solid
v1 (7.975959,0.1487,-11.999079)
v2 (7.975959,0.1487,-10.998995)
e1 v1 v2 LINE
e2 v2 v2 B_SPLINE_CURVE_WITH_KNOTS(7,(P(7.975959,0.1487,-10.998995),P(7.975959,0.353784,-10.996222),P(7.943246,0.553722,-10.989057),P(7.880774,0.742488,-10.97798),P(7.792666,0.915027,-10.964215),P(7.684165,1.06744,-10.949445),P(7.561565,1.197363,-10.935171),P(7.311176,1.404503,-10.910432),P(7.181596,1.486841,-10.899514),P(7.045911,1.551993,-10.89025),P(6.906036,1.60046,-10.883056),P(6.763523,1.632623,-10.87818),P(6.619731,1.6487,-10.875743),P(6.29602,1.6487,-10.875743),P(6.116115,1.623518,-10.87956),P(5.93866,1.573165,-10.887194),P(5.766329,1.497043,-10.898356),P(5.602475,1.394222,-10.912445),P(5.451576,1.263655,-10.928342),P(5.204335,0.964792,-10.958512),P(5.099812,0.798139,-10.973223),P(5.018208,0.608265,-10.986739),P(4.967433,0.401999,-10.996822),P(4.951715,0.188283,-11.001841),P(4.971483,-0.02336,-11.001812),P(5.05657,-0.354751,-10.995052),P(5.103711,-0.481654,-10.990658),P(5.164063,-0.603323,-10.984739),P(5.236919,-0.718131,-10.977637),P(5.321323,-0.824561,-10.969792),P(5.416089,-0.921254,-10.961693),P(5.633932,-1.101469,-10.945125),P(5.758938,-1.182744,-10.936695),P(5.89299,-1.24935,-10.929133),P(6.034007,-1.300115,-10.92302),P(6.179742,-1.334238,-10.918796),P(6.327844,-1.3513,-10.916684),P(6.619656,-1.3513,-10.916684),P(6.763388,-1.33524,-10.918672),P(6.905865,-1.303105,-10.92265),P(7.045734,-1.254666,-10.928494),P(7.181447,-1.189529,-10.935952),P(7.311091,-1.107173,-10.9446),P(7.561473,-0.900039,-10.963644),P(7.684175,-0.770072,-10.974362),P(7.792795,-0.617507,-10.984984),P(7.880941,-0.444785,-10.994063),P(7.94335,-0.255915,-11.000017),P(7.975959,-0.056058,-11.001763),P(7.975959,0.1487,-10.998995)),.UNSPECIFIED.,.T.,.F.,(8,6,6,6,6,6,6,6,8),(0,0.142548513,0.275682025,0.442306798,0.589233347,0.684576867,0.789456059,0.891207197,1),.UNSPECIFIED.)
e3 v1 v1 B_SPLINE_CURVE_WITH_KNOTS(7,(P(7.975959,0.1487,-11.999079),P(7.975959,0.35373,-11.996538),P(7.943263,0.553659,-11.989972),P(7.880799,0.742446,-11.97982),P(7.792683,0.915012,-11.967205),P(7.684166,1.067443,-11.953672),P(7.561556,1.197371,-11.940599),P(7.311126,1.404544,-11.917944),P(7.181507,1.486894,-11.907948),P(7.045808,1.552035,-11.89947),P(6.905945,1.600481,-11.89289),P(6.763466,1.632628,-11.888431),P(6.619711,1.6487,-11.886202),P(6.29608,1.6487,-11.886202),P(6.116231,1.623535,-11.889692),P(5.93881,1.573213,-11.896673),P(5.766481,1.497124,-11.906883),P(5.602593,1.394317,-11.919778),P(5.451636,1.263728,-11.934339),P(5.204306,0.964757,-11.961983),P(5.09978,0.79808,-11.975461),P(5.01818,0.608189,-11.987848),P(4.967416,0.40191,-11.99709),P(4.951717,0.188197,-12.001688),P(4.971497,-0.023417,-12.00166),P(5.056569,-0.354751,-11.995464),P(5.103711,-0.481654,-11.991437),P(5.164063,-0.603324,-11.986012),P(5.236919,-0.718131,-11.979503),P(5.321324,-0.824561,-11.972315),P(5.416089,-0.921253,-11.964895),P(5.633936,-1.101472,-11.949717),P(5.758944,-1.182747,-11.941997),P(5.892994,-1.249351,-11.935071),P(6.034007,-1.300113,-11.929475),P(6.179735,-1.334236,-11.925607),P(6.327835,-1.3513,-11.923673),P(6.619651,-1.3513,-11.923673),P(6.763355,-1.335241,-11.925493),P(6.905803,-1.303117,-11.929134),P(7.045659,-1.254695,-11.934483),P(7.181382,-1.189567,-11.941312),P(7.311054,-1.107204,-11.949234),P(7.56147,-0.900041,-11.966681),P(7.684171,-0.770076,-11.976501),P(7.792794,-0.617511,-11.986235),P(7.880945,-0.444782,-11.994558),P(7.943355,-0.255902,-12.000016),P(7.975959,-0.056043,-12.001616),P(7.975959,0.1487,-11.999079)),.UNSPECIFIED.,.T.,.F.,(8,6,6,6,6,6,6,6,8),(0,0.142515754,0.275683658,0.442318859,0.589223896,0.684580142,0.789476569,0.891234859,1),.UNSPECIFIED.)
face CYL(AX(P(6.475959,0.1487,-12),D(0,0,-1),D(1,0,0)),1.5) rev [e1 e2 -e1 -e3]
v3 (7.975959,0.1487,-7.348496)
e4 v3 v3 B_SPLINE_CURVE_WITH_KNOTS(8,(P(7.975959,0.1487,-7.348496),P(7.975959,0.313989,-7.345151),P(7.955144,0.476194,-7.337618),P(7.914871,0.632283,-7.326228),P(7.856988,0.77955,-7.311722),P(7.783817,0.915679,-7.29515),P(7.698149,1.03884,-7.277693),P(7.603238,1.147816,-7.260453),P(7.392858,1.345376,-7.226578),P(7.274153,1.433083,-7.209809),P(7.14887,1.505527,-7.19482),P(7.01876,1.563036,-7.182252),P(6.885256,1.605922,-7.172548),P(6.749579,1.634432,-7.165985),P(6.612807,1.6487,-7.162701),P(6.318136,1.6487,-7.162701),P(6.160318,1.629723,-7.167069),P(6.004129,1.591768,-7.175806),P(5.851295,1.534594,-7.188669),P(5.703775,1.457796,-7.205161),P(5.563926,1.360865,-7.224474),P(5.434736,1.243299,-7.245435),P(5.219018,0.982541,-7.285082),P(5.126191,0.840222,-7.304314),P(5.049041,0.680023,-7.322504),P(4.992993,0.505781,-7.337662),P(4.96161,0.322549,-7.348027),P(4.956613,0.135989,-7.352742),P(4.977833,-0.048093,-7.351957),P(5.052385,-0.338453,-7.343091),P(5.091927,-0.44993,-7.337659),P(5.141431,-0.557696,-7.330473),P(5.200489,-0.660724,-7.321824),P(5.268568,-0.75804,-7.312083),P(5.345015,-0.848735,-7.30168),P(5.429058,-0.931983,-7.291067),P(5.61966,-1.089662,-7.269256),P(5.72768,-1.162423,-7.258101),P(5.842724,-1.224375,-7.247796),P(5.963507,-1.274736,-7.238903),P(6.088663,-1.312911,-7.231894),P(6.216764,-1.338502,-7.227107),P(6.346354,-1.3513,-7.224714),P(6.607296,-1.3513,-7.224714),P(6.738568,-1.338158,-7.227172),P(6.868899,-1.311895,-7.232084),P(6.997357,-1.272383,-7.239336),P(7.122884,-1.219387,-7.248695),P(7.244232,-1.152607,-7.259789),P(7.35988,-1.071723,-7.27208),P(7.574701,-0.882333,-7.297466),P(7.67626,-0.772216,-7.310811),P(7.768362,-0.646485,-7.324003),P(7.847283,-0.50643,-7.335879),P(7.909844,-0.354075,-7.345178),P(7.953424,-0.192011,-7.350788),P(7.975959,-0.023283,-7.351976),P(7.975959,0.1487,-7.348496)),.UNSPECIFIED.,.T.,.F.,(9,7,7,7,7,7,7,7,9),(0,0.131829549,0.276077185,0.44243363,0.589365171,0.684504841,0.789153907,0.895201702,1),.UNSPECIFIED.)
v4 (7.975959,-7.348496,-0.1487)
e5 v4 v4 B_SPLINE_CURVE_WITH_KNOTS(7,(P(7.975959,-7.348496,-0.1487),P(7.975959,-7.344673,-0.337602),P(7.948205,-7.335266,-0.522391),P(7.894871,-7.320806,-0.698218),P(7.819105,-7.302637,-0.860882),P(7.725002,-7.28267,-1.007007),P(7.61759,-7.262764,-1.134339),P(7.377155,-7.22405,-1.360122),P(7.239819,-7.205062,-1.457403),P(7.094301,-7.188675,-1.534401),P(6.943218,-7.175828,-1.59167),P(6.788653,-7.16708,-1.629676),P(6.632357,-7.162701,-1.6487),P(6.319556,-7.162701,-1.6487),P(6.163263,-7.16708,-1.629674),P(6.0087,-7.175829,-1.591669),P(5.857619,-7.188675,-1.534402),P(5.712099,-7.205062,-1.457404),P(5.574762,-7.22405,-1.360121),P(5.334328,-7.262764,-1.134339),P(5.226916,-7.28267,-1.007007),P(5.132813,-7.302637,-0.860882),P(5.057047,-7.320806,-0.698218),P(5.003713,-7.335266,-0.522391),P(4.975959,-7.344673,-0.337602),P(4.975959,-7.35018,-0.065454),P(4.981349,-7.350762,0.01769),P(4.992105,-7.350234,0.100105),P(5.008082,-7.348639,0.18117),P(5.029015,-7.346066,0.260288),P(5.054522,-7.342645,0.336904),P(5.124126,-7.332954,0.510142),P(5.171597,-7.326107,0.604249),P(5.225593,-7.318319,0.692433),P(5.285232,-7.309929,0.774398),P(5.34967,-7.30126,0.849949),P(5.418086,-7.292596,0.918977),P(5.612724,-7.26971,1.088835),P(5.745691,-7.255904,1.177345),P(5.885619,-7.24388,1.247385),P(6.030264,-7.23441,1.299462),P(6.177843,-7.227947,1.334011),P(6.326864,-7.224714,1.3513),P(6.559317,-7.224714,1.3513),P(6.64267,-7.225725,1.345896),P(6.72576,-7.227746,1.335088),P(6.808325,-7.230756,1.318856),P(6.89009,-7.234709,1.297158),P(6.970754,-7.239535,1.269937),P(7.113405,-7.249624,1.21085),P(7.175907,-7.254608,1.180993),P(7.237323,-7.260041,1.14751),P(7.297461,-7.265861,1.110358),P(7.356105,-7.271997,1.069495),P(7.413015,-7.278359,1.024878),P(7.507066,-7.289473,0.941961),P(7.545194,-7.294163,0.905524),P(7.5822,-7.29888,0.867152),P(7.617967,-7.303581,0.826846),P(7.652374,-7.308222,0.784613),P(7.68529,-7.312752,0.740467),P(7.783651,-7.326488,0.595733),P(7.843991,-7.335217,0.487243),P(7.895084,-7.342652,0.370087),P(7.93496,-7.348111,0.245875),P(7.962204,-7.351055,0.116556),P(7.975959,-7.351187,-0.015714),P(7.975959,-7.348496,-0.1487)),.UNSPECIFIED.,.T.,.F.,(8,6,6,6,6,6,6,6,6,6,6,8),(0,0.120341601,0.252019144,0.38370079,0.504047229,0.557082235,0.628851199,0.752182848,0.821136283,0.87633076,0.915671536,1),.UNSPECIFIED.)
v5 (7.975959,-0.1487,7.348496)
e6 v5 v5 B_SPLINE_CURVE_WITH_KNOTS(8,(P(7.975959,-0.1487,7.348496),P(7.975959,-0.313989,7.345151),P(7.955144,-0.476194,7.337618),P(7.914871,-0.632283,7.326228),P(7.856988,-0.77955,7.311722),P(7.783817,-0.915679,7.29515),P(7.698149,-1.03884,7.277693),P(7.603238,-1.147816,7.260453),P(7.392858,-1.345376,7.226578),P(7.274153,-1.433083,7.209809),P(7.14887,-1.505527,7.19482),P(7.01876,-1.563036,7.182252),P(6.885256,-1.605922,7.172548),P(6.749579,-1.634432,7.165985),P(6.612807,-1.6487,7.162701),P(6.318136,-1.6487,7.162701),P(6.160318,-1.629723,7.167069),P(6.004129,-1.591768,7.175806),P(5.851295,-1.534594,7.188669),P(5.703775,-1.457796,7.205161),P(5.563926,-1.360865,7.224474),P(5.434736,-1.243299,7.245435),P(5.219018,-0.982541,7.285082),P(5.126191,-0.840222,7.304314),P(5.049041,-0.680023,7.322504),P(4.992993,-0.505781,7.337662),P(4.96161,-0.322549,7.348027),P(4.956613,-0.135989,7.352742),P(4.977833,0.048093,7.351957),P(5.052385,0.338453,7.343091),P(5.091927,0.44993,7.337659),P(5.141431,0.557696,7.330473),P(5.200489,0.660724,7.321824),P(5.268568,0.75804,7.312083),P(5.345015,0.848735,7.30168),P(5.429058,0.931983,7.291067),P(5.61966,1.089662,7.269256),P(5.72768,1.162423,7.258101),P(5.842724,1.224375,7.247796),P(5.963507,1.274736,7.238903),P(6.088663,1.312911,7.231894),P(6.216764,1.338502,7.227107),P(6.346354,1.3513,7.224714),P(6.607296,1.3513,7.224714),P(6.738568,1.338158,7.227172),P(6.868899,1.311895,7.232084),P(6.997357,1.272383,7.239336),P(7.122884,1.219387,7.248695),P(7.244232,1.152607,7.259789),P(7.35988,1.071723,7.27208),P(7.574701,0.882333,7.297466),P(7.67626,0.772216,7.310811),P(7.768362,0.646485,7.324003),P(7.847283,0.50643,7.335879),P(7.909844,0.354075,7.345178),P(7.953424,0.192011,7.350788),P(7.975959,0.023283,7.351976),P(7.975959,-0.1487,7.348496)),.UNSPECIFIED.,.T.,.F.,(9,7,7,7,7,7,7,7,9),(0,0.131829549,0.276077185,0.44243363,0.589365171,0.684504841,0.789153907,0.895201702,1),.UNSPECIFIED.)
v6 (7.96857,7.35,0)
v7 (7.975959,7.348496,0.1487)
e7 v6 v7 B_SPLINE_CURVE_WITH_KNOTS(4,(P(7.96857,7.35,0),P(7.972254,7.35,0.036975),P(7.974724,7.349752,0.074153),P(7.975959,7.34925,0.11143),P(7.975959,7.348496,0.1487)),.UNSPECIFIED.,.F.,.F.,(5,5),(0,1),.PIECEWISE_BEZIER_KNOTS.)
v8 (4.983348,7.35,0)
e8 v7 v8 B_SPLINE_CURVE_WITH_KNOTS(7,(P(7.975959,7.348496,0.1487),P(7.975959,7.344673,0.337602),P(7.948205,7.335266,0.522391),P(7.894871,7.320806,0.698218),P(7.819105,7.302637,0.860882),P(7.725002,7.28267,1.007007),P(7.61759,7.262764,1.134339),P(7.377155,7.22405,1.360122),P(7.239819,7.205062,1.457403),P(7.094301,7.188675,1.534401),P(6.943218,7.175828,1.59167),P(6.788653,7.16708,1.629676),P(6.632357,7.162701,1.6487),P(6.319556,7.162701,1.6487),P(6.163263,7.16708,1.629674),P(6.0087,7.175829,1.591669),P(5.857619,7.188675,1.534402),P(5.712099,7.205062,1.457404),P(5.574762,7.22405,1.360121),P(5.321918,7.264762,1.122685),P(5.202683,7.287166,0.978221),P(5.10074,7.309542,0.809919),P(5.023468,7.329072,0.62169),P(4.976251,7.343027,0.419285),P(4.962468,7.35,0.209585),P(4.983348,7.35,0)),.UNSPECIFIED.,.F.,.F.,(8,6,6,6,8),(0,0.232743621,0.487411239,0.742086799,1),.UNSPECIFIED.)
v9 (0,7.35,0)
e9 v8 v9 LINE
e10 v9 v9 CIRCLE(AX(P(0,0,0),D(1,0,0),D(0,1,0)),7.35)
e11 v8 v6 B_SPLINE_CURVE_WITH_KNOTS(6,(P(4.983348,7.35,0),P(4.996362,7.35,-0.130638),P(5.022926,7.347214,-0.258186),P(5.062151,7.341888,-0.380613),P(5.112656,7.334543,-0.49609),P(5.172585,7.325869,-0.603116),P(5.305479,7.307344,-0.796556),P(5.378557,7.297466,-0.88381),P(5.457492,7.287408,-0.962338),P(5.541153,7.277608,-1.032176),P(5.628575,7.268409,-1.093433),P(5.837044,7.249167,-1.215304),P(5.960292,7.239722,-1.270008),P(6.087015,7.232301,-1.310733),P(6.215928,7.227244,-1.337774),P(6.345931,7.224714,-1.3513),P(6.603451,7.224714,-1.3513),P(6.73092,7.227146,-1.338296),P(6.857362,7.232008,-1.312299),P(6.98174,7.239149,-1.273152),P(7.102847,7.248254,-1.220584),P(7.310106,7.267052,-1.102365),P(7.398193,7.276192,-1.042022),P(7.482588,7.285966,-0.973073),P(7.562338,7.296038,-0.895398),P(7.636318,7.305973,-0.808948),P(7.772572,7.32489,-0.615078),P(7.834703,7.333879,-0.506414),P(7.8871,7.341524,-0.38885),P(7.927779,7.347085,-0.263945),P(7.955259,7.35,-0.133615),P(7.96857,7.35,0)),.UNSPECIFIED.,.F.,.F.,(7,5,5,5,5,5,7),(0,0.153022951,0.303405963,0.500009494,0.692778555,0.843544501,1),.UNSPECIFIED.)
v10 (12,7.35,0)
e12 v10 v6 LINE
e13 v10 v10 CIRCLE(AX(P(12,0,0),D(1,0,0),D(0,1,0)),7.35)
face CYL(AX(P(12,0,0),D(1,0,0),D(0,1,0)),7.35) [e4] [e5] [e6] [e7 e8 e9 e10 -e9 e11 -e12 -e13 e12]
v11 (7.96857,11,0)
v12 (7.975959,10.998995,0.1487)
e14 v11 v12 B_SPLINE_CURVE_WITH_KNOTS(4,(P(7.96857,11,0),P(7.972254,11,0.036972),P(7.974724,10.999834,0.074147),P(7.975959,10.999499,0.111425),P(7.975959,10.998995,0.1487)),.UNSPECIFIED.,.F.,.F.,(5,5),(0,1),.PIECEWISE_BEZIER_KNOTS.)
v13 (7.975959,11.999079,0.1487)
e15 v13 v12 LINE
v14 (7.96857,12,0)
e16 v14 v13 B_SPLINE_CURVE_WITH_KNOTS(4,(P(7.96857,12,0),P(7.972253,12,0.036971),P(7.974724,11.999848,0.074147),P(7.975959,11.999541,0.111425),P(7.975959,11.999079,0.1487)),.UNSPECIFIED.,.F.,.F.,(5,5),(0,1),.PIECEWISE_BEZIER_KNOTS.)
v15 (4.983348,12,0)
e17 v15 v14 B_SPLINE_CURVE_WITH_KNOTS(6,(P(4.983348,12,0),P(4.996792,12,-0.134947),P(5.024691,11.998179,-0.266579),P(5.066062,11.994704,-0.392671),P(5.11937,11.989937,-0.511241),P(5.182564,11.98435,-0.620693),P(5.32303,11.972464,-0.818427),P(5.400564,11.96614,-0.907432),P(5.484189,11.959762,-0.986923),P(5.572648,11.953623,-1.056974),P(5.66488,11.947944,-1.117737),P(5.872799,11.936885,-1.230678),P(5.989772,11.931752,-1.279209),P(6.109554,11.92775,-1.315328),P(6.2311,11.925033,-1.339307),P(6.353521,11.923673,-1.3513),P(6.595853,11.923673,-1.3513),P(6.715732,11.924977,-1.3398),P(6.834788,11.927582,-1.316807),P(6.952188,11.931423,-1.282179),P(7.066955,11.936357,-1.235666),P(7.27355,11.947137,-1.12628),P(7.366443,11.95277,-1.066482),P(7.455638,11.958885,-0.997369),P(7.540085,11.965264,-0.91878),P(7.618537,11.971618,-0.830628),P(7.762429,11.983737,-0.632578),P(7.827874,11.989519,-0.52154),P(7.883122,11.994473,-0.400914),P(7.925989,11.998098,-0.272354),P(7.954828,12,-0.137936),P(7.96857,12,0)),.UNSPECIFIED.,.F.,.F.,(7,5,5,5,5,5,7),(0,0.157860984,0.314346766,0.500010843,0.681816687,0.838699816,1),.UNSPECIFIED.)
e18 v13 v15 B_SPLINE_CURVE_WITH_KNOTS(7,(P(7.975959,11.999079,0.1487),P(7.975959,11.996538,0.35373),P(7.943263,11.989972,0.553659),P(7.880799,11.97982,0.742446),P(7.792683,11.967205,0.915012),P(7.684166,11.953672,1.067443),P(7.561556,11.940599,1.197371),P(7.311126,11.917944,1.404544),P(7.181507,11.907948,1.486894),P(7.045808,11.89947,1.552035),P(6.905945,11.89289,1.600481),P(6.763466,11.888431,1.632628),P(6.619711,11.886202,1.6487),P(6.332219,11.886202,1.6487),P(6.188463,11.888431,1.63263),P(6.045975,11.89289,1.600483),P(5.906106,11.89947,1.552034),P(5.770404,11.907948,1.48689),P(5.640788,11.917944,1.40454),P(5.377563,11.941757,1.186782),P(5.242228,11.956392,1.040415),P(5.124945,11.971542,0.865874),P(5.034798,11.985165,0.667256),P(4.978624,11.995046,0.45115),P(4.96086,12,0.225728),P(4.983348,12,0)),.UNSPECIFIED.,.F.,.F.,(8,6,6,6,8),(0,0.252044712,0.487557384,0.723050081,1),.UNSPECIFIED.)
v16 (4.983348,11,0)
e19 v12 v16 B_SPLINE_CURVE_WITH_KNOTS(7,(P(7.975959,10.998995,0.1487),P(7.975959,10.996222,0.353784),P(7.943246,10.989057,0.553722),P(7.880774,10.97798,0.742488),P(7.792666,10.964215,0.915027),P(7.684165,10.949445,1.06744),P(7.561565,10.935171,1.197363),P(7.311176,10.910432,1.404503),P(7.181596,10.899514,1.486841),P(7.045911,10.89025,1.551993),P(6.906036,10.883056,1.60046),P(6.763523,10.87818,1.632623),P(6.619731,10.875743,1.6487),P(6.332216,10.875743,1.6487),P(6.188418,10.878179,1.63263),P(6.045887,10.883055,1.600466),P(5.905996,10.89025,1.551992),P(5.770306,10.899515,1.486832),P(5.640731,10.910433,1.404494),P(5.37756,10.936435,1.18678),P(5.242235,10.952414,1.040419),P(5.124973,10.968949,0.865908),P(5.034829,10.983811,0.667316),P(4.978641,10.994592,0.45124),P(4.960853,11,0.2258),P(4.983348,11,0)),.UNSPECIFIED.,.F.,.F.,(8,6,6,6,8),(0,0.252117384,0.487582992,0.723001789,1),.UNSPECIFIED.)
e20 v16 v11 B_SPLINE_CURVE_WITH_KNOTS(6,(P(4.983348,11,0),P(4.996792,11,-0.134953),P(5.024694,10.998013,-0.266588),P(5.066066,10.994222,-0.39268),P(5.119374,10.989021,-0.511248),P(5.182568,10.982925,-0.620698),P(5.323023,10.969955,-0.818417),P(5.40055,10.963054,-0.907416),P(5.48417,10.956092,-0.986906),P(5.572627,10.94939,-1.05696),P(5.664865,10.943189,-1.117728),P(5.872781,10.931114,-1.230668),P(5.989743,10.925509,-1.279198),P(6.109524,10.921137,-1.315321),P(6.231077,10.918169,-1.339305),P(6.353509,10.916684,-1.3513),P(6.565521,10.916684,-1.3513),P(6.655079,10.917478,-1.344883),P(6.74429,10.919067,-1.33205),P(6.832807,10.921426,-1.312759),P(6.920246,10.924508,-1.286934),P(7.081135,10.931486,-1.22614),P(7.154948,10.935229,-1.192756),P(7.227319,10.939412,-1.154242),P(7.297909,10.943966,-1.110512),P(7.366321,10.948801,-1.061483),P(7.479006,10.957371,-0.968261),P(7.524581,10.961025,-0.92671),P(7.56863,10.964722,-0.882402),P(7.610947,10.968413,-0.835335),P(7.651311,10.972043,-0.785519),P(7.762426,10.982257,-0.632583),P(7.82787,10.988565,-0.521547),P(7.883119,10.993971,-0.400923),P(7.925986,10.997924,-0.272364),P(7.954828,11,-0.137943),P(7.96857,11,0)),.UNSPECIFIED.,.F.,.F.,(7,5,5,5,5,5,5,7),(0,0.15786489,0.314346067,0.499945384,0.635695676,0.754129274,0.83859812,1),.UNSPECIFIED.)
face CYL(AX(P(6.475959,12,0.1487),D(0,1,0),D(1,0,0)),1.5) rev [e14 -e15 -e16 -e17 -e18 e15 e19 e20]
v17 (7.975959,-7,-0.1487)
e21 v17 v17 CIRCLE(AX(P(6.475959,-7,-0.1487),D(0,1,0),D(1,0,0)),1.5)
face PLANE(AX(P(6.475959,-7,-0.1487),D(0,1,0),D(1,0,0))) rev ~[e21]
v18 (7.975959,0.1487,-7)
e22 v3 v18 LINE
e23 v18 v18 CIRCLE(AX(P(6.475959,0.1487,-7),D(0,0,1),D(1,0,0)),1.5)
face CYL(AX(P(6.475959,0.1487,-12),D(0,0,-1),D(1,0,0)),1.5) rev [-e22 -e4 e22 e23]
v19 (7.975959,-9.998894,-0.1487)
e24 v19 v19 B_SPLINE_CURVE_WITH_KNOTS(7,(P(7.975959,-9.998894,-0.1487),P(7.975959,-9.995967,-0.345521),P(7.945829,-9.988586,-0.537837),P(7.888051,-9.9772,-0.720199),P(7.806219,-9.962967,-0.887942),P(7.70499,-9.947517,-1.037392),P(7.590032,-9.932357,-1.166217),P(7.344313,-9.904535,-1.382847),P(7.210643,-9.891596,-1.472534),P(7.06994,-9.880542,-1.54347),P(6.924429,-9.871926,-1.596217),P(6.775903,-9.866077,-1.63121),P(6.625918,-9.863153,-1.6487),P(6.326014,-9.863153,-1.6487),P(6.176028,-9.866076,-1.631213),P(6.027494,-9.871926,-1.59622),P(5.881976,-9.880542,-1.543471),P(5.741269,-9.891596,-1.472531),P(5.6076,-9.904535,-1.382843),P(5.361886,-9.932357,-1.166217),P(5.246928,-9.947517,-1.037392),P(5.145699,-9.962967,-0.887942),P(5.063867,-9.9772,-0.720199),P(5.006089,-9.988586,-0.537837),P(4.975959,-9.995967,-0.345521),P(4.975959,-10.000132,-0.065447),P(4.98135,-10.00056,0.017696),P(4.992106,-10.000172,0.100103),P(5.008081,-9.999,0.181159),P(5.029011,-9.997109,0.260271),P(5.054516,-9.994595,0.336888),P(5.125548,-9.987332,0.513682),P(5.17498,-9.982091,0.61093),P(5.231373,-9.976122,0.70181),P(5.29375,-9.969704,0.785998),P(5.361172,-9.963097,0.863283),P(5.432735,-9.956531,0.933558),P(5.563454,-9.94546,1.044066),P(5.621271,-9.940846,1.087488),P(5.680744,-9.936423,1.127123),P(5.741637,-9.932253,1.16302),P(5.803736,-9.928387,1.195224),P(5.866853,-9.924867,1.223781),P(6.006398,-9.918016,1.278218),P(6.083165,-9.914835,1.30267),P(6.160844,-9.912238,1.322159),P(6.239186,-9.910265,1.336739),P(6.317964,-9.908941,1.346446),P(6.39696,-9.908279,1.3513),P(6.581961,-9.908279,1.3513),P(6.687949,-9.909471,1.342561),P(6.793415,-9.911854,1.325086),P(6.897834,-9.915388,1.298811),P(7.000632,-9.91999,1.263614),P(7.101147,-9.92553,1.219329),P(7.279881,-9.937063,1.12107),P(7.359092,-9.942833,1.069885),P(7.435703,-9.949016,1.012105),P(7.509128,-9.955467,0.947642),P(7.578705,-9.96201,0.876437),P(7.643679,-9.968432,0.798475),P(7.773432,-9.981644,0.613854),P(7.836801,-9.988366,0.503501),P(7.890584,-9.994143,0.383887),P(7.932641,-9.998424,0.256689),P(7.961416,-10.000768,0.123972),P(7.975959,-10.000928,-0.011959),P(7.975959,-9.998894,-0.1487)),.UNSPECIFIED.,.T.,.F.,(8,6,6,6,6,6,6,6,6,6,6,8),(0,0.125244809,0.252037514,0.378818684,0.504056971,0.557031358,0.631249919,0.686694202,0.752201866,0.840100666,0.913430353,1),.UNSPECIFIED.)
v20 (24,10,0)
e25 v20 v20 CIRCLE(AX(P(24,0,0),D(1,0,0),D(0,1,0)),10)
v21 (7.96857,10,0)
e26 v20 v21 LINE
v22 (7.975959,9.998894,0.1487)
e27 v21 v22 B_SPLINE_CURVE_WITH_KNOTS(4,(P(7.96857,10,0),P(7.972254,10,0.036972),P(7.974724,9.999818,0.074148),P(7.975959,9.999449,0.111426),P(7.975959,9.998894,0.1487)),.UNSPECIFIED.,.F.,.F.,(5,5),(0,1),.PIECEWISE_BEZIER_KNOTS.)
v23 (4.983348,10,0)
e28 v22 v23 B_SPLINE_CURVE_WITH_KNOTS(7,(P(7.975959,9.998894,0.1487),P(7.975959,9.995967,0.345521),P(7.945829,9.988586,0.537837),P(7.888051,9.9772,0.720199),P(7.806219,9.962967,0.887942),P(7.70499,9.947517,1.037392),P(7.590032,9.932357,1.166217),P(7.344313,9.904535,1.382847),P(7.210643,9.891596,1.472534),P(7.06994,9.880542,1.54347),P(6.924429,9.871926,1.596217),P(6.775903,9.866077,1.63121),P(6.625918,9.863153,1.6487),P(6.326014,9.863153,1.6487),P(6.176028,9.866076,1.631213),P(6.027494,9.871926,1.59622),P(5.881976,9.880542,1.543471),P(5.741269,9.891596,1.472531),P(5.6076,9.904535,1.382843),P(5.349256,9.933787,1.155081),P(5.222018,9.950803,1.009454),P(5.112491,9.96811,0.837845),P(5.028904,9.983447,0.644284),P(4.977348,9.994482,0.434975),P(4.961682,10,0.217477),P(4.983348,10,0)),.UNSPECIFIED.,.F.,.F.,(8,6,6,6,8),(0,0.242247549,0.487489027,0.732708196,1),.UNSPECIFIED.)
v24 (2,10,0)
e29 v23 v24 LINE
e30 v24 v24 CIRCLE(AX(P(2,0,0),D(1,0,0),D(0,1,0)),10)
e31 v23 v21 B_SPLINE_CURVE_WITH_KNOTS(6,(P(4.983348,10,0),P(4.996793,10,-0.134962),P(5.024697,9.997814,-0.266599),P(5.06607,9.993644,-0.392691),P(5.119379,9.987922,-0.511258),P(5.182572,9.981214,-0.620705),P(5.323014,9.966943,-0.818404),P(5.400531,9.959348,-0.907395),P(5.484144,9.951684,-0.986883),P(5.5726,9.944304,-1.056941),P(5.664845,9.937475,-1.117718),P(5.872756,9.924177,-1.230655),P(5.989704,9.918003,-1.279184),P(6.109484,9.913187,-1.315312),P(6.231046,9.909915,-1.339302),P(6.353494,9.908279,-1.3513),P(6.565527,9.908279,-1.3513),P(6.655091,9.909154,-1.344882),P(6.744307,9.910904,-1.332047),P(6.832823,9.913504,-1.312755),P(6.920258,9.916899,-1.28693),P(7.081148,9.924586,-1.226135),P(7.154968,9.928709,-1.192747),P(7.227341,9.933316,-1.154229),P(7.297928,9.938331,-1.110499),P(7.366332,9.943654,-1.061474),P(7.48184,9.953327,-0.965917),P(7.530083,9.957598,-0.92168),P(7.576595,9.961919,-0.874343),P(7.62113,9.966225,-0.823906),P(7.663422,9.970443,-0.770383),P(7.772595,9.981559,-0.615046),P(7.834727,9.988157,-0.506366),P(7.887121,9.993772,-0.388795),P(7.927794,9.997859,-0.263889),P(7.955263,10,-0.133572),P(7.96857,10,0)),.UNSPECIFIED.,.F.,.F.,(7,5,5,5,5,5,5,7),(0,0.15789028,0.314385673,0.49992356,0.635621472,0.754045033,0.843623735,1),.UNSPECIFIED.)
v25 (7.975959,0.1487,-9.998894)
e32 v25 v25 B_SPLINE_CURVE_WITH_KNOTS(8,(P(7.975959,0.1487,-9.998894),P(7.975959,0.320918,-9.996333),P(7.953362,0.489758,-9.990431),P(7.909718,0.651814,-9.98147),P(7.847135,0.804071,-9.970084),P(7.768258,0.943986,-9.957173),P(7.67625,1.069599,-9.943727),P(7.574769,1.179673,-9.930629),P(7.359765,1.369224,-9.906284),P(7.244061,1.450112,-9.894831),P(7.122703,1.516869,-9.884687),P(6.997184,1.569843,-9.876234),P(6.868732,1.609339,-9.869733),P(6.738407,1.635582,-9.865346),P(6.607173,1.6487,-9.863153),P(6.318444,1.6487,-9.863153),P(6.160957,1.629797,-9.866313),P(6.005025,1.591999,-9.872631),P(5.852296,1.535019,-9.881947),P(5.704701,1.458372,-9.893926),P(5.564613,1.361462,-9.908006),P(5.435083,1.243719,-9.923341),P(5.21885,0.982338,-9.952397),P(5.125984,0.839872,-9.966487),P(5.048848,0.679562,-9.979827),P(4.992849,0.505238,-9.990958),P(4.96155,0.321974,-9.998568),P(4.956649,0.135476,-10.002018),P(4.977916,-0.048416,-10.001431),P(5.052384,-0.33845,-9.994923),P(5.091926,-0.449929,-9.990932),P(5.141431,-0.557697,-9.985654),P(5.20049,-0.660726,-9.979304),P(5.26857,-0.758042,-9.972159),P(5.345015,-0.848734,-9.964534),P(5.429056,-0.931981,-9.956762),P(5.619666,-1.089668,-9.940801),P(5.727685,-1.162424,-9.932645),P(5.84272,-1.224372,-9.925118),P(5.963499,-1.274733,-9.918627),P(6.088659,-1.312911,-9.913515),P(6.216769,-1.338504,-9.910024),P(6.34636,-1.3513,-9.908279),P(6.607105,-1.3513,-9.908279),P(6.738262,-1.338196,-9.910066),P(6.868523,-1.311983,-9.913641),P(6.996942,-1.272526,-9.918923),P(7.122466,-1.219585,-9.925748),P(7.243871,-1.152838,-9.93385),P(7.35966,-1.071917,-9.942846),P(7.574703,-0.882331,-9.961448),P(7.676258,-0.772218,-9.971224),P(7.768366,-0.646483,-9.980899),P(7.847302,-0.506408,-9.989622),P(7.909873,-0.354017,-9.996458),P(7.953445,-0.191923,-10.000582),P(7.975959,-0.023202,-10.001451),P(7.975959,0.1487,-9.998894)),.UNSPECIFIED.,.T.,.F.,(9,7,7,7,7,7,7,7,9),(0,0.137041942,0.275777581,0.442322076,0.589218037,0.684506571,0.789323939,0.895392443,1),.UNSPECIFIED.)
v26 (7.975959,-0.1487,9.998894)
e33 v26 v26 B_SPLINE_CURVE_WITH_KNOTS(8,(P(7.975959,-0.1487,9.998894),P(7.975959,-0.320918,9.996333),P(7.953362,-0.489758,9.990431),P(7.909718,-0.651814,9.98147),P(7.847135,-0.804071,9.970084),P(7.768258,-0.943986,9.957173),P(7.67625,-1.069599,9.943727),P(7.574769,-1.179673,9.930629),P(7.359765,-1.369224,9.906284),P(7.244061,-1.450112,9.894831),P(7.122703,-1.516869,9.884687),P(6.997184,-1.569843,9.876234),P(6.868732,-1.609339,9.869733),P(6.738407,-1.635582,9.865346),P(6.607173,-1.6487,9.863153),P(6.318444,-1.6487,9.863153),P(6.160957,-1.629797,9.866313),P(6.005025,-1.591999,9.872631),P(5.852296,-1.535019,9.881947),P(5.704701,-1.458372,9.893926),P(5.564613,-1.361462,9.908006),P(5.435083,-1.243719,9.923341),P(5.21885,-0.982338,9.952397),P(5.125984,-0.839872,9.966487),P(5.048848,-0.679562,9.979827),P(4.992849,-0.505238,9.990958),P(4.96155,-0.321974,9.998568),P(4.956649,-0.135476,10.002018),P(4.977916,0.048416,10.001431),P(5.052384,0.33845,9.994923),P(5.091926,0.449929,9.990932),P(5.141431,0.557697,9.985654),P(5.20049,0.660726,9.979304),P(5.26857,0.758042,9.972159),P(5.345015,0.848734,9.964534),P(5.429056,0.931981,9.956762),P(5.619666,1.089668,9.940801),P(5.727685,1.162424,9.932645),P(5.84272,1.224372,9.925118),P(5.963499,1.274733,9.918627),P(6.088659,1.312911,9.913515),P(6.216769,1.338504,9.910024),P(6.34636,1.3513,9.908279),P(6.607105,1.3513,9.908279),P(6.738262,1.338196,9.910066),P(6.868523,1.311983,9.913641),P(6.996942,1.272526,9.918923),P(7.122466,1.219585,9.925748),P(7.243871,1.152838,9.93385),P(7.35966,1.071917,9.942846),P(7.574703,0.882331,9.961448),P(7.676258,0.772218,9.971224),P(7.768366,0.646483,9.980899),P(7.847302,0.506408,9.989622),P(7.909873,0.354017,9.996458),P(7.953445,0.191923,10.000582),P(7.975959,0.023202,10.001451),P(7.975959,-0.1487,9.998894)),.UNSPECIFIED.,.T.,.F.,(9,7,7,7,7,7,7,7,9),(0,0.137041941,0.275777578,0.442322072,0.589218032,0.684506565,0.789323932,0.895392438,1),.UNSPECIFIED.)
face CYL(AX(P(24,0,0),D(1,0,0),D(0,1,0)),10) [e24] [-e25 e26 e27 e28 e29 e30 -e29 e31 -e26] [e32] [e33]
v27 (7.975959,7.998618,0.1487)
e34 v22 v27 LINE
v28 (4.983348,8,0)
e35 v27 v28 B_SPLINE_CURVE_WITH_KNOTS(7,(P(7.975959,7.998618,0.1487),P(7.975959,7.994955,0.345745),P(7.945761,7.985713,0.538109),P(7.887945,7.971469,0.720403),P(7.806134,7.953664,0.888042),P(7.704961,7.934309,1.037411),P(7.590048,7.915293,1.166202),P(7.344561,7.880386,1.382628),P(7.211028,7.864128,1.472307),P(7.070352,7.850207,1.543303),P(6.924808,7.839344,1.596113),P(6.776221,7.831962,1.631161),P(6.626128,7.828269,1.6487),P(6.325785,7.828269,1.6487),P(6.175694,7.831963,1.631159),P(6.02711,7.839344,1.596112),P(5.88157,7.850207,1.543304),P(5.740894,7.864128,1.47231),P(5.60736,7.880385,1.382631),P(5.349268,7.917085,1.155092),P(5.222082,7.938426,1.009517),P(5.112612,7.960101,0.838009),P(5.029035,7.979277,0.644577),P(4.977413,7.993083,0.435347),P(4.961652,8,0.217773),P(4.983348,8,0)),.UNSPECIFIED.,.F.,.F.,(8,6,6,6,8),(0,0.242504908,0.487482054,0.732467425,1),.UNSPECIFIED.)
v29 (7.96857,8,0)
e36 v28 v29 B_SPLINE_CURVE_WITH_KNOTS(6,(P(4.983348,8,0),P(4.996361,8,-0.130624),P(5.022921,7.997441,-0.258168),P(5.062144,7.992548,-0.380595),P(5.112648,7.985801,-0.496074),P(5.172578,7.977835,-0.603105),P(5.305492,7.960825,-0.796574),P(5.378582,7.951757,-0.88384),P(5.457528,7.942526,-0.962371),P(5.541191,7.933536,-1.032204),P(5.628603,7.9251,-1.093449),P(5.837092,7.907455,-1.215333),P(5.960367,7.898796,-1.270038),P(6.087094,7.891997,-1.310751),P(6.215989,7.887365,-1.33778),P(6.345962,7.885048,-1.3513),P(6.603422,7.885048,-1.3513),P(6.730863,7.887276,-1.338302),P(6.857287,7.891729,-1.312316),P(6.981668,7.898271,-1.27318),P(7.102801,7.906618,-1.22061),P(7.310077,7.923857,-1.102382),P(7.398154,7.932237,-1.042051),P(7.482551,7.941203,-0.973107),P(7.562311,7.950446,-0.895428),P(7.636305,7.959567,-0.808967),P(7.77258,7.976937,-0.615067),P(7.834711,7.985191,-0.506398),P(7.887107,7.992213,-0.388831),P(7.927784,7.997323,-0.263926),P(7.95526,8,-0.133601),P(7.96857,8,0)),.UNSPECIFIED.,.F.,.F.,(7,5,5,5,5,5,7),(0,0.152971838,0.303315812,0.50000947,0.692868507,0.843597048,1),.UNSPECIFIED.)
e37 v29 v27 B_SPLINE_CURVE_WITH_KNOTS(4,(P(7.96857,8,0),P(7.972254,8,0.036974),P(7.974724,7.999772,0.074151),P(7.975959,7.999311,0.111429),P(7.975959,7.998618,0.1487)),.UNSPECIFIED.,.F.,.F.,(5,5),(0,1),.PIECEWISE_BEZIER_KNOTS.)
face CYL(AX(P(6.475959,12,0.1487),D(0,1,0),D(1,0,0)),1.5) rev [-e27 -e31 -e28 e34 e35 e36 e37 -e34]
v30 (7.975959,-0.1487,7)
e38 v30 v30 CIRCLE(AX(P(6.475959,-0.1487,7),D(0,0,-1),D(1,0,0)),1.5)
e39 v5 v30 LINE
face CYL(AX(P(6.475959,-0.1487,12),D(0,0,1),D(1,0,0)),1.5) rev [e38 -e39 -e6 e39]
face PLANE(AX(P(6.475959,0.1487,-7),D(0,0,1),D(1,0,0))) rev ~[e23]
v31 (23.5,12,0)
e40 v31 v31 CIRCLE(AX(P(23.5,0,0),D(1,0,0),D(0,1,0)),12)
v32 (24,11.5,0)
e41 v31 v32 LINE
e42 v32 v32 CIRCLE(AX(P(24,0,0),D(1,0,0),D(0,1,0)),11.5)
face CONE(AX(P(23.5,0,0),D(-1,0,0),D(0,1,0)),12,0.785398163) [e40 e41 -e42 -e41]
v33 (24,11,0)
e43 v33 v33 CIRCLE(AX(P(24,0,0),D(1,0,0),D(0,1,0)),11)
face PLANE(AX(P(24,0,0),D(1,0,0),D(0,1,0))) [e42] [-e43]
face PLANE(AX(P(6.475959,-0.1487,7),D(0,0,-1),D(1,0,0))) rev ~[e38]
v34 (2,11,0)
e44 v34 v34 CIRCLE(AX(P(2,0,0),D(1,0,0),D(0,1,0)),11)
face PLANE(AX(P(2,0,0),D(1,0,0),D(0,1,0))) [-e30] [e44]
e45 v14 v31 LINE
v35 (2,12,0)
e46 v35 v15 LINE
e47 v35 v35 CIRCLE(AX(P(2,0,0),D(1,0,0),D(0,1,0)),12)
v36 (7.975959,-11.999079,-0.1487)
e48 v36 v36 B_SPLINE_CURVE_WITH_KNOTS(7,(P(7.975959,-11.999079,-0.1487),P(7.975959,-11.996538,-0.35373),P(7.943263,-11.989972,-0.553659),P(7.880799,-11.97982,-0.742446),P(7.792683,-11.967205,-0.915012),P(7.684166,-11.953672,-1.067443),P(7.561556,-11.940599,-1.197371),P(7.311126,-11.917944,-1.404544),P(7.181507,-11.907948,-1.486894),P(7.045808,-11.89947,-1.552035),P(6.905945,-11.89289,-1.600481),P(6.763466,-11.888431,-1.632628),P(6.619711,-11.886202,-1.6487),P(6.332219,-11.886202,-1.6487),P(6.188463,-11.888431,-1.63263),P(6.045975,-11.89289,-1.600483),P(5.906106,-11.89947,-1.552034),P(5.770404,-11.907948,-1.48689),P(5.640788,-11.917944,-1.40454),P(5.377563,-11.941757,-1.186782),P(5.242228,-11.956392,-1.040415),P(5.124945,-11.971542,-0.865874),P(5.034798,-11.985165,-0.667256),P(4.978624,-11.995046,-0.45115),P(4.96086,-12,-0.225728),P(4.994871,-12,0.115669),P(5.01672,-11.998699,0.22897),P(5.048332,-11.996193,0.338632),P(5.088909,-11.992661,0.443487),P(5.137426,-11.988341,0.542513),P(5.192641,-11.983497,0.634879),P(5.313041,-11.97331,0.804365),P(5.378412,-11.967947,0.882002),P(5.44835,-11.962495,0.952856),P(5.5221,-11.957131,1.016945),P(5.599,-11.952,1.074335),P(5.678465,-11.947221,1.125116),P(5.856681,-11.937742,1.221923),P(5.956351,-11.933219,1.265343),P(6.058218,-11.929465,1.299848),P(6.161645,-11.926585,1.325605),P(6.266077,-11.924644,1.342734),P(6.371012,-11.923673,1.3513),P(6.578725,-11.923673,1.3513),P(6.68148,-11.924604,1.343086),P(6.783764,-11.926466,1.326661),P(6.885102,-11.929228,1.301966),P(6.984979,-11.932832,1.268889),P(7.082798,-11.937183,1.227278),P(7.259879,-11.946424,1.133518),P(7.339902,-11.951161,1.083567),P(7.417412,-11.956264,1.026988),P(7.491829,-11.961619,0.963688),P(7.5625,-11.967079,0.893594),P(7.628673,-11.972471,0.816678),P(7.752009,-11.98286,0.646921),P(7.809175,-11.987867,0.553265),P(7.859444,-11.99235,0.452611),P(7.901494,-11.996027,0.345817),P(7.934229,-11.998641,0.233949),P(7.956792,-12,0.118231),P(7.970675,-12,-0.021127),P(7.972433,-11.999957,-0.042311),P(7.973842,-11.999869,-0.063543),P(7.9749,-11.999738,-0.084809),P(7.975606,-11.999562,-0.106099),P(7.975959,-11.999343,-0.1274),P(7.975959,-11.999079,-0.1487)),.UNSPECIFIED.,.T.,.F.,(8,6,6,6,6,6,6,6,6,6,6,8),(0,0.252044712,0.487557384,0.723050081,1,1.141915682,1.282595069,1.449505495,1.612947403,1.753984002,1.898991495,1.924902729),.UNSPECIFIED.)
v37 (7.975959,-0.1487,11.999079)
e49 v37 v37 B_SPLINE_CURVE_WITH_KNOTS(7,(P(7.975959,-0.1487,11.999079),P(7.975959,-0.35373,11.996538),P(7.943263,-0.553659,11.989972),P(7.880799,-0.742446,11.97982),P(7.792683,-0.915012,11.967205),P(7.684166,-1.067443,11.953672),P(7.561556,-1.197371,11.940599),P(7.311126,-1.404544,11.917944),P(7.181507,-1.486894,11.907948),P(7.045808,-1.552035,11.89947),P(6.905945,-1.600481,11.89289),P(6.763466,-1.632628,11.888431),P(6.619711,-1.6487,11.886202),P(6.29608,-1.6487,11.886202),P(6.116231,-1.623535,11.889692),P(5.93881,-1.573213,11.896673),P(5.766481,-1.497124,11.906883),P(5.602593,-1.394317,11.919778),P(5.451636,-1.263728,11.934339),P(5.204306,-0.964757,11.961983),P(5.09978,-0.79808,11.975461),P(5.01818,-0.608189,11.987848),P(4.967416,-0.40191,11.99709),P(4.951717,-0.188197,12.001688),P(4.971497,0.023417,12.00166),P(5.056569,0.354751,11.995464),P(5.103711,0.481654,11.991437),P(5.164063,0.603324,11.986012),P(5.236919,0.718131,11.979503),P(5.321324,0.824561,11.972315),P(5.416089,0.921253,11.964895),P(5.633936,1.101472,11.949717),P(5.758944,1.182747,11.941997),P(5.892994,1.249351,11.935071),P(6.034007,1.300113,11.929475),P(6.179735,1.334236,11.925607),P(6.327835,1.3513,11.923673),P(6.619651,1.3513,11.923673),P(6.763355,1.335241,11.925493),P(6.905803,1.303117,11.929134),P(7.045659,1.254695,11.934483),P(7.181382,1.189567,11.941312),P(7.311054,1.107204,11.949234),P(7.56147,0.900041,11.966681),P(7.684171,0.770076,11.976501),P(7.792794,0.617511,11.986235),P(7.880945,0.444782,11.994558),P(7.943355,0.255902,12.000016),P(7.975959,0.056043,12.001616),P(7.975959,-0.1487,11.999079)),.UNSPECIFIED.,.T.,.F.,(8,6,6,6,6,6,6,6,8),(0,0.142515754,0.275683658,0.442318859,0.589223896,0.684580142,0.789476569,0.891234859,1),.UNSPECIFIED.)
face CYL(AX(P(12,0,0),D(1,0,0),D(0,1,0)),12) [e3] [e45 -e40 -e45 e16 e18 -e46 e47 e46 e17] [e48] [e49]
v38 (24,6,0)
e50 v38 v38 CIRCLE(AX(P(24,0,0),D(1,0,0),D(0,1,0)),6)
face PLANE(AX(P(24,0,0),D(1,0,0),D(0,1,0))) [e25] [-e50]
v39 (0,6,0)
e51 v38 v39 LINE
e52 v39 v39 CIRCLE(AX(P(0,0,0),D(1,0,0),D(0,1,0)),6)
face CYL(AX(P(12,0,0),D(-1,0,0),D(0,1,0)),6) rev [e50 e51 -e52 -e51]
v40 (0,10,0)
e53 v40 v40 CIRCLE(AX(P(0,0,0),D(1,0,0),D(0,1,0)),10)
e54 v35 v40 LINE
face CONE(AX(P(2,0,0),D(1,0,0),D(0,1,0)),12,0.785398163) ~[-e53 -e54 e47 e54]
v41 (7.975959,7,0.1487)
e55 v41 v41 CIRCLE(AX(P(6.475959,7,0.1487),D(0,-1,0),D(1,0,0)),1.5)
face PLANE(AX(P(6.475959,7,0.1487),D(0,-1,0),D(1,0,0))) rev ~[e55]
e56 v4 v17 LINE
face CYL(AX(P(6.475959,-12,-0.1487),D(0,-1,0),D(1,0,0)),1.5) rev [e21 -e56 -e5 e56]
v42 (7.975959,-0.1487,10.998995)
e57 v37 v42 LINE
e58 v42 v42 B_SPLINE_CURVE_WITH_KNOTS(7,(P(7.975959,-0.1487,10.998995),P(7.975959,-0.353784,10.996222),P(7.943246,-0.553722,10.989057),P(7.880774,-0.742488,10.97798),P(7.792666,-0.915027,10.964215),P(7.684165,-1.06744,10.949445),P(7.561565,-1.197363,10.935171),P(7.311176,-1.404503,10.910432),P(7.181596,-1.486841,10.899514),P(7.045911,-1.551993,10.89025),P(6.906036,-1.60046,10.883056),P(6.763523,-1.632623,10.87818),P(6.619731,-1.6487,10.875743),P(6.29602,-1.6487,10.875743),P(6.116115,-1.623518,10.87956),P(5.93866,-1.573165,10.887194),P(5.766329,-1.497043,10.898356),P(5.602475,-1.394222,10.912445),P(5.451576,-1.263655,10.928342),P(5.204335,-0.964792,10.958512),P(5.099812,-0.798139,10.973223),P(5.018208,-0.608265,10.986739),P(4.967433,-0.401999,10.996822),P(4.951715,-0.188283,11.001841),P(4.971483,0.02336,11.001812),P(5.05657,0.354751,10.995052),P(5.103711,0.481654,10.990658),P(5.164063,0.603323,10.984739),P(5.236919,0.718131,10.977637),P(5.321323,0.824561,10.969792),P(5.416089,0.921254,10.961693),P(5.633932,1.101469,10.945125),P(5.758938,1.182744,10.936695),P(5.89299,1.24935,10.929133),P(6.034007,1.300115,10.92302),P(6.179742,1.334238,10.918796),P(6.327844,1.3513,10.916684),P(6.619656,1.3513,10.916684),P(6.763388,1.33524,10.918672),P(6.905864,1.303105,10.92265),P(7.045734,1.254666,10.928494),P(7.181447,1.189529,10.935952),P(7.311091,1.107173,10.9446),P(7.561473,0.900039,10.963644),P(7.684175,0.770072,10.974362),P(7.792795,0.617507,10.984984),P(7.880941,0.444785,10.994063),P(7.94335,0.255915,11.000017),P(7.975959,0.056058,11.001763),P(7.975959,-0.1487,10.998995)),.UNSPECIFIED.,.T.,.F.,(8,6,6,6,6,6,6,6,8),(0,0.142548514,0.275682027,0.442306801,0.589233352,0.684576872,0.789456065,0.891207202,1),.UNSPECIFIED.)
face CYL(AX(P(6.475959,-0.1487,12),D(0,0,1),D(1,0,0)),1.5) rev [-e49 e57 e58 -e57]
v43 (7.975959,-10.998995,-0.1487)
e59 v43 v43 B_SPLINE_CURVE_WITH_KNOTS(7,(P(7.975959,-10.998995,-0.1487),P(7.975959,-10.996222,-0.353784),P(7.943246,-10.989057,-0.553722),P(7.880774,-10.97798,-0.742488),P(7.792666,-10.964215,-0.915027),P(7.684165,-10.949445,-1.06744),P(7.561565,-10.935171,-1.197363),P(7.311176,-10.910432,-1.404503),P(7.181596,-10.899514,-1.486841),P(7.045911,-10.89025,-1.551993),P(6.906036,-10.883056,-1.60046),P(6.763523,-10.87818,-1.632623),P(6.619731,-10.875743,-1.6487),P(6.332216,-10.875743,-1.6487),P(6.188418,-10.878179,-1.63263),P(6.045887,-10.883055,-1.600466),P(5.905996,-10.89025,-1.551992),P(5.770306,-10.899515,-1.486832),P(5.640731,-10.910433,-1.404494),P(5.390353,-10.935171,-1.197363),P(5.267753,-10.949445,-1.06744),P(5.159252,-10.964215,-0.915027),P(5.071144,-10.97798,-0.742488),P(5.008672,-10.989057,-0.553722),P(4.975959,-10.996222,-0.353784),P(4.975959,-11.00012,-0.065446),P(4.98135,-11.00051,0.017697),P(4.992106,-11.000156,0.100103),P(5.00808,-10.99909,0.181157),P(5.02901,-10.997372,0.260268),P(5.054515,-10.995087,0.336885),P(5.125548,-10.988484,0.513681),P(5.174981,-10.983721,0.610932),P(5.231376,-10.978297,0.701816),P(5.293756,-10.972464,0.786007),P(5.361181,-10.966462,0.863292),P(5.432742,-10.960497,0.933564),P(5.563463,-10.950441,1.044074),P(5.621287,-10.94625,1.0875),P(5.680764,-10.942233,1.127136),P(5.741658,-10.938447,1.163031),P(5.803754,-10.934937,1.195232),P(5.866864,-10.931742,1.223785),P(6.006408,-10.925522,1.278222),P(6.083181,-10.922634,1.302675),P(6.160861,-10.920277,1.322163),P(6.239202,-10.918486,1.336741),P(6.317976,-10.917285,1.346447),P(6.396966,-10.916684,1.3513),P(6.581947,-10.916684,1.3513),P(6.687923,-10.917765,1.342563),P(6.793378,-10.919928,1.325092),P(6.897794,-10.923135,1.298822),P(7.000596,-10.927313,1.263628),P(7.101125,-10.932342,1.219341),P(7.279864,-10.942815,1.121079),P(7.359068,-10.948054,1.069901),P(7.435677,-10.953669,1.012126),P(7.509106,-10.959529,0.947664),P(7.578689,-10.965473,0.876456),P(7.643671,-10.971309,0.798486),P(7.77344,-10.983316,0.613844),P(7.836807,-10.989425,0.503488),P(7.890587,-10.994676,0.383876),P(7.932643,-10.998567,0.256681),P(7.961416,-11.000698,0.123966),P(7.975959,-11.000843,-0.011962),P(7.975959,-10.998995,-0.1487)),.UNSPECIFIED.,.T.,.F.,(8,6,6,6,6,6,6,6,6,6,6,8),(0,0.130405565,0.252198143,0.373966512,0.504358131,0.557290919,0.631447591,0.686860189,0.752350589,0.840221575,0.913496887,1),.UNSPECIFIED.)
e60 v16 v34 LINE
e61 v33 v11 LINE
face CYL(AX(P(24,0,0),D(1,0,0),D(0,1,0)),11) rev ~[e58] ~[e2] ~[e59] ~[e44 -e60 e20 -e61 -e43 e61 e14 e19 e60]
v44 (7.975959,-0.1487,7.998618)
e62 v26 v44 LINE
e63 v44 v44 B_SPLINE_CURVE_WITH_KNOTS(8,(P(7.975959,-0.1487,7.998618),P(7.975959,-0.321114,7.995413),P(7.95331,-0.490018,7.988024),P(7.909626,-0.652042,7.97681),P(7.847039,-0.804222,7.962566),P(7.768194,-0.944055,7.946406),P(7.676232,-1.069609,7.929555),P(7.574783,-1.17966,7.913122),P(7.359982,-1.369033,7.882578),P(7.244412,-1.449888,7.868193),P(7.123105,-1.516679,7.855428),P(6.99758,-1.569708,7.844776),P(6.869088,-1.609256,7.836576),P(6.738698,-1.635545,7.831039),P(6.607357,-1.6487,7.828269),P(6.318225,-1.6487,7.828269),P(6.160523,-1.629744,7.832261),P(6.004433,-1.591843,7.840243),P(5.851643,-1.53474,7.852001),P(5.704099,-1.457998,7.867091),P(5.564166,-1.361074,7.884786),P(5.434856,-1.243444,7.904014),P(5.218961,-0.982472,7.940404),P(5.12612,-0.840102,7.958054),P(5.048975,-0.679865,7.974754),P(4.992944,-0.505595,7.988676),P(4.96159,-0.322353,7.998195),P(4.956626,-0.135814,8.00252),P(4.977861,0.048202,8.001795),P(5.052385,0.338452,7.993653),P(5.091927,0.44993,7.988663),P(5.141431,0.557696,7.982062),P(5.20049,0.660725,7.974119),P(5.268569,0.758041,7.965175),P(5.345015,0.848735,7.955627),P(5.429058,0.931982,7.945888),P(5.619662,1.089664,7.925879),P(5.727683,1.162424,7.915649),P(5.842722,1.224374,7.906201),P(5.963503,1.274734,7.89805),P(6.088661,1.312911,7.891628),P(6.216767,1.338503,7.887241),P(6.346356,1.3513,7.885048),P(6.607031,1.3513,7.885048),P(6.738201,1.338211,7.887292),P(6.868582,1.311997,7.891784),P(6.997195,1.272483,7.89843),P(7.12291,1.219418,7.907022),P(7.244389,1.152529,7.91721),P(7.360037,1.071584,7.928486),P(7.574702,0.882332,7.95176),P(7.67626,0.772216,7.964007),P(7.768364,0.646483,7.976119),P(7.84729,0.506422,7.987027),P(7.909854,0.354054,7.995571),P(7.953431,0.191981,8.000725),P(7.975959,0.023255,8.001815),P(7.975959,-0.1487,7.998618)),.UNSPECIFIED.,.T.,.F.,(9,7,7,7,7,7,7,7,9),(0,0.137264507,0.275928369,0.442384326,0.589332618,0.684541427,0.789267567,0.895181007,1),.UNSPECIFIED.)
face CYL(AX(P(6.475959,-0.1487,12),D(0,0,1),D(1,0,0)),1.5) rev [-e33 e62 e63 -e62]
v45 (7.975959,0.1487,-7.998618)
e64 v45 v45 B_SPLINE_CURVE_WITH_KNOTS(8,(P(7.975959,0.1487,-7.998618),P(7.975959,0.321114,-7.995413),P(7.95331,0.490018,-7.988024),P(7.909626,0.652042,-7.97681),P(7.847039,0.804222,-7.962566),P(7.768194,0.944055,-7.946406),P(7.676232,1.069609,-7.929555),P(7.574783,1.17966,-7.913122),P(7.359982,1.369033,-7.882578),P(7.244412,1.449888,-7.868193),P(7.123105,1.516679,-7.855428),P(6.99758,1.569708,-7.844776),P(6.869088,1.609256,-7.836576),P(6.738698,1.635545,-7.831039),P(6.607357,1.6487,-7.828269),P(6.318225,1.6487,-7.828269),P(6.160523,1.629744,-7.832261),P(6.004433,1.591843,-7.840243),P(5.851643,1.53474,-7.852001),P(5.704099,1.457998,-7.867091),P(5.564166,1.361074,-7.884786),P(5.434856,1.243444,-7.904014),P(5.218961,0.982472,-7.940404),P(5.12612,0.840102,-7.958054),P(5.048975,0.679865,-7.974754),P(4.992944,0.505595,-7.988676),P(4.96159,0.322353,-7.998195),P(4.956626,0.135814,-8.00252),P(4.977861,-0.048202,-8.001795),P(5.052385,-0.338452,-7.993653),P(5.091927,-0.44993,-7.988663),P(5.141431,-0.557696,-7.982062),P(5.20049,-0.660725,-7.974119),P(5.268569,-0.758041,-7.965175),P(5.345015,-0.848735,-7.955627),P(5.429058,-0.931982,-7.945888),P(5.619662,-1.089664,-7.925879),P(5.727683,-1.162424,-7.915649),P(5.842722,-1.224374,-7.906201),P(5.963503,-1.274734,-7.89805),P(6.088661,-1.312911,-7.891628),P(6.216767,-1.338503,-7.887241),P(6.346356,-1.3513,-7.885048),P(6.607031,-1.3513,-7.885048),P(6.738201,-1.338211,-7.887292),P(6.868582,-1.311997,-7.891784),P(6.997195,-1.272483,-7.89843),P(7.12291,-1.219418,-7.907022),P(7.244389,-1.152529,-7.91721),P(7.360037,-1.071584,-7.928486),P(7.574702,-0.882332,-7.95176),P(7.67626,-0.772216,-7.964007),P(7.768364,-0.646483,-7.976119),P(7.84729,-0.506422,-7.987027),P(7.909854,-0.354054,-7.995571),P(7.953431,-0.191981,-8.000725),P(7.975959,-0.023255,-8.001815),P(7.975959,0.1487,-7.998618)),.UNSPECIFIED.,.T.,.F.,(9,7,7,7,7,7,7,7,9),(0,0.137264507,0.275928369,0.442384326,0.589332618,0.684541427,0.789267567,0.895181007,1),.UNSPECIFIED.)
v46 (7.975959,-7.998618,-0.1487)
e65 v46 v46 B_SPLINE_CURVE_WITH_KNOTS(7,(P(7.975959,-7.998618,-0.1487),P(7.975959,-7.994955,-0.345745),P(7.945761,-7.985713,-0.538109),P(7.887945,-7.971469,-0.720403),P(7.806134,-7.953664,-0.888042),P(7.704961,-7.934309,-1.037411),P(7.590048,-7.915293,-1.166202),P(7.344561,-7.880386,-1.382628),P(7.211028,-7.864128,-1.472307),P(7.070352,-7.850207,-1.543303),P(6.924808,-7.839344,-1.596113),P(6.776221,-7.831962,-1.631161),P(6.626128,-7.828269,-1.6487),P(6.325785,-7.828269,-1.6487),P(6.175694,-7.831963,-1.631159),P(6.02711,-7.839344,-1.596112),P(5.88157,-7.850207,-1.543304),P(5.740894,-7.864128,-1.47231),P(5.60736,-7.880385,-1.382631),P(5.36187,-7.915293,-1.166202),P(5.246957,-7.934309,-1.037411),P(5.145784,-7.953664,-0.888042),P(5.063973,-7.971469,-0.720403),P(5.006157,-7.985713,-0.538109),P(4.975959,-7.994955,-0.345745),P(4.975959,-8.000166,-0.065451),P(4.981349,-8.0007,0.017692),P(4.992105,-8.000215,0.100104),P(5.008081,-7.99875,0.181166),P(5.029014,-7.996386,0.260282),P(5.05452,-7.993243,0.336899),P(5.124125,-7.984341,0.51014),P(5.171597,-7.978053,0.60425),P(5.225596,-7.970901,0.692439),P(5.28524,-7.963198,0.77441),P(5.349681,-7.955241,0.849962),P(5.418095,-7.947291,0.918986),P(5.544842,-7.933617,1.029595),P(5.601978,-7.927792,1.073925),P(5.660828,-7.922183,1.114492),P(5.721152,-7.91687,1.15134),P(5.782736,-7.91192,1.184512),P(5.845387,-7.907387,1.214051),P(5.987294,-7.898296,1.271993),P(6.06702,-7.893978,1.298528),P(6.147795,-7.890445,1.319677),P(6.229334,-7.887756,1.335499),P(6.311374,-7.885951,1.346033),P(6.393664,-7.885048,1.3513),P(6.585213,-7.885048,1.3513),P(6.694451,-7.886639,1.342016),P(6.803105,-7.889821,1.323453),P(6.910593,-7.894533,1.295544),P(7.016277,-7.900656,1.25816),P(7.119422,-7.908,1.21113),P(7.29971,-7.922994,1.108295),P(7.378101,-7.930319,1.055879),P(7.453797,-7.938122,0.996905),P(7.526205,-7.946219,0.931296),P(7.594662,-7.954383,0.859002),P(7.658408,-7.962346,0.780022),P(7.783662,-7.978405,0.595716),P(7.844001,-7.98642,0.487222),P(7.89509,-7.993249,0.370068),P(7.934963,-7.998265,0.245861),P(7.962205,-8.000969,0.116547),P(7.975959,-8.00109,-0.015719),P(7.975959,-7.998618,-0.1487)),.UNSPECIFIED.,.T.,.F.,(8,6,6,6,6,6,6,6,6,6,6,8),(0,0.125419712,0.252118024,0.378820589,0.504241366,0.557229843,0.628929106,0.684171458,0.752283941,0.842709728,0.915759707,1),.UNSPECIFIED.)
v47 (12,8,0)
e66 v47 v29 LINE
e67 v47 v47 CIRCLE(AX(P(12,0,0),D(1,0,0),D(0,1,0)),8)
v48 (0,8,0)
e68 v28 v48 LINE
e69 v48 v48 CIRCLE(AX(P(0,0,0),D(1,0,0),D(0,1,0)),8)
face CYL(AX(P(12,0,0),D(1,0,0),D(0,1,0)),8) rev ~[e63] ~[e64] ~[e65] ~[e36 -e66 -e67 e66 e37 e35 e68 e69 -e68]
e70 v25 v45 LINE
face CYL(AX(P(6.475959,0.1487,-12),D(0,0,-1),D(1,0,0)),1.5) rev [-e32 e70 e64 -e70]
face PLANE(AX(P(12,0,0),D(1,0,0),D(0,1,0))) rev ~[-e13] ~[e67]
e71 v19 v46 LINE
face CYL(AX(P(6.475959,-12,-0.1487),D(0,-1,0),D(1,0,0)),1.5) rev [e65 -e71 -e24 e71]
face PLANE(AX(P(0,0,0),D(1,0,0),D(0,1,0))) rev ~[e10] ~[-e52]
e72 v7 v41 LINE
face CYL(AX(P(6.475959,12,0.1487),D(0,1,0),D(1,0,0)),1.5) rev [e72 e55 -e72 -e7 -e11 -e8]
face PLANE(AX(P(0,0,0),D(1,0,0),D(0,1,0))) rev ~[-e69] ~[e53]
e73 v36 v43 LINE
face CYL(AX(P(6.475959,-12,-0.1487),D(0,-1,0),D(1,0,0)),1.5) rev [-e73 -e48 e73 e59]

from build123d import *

# Parameters (mm, degrees)
SKETCH017_R           = 12
SKETCH017_R_2         = 6
PAD007_DEPTH          = 12
SKETCH018_R           = 11
SKETCH018_R_2         = 10
POCKET010_DEPTH       = 22
SKETCH019_R           = 8
SKETCH019_R_2         = 7.35
POCKET011_DEPTH       = 13
CHAMFER_SIZE          = 2
CHAMFER001_SIZE       = 0.5
SKETCH020_R           = 1.5
POCKET012_DEPTH       = 5
POLARPATTERN003_COUNT = 4


with BuildPart() as part:
    # Sketch017 → Pad007 (new body, symmetric)
    with BuildSketch(Plane.YZ):
        Circle(SKETCH017_R)
        Circle(SKETCH017_R_2, mode=Mode.SUBTRACT)
    extrude(amount=PAD007_DEPTH, both=True)

    # Sketch018 (on Face4 of Pad007) → Pocket010 (cut)
    with BuildSketch(Plane.YZ.offset(12)):
        Circle(SKETCH018_R)
        Circle(SKETCH018_R_2, mode=Mode.SUBTRACT)
    extrude(amount=-POCKET010_DEPTH, mode=Mode.SUBTRACT)

    # Sketch019 → Pocket011 (cut)
    with BuildSketch(Plane.YZ):
        Circle(SKETCH019_R)
        Circle(SKETCH019_R_2, mode=Mode.SUBTRACT)
    extrude(amount=-POCKET011_DEPTH, mode=Mode.SUBTRACT)

    # Chamfer
    chamfer_edges = [part.edges().sort_by_distance(p)[0] for p in [
        (-12, -12, 0),
    ]]
    chamfer(chamfer_edges, length=CHAMFER_SIZE)

    # Chamfer001
    chamfer001_edges = [part.edges().sort_by_distance(p)[0] for p in [
        (12, -12, 0),
    ]]
    chamfer(chamfer001_edges, length=CHAMFER001_SIZE)

    # Sketch020 → Pocket012 (cut)
    with BuildSketch(Plane.XY.offset(-12)):
        with Locations((-5.524041, 0.1487)):
            Circle(SKETCH020_R)
    pocket012 = extrude(amount=POCKET012_DEPTH, mode=Mode.SUBTRACT)

    # PolarPattern003: Pocket012 ×4 about axis
    polarpattern003_axis = Axis((0, 0, 0), (1, 0, 0))
    for i in range(1, POLARPATTERN003_COUNT):
        add(pocket012.rotate(polarpattern003_axis, i * 360 / POLARPATTERN003_COUNT), mode=Mode.SUBTRACT)


with BuildPart() as part_1:
    # Body003 placement: moved
    add(part.part.moved(Location((12, 0, 0))))


solid = part_1.part
